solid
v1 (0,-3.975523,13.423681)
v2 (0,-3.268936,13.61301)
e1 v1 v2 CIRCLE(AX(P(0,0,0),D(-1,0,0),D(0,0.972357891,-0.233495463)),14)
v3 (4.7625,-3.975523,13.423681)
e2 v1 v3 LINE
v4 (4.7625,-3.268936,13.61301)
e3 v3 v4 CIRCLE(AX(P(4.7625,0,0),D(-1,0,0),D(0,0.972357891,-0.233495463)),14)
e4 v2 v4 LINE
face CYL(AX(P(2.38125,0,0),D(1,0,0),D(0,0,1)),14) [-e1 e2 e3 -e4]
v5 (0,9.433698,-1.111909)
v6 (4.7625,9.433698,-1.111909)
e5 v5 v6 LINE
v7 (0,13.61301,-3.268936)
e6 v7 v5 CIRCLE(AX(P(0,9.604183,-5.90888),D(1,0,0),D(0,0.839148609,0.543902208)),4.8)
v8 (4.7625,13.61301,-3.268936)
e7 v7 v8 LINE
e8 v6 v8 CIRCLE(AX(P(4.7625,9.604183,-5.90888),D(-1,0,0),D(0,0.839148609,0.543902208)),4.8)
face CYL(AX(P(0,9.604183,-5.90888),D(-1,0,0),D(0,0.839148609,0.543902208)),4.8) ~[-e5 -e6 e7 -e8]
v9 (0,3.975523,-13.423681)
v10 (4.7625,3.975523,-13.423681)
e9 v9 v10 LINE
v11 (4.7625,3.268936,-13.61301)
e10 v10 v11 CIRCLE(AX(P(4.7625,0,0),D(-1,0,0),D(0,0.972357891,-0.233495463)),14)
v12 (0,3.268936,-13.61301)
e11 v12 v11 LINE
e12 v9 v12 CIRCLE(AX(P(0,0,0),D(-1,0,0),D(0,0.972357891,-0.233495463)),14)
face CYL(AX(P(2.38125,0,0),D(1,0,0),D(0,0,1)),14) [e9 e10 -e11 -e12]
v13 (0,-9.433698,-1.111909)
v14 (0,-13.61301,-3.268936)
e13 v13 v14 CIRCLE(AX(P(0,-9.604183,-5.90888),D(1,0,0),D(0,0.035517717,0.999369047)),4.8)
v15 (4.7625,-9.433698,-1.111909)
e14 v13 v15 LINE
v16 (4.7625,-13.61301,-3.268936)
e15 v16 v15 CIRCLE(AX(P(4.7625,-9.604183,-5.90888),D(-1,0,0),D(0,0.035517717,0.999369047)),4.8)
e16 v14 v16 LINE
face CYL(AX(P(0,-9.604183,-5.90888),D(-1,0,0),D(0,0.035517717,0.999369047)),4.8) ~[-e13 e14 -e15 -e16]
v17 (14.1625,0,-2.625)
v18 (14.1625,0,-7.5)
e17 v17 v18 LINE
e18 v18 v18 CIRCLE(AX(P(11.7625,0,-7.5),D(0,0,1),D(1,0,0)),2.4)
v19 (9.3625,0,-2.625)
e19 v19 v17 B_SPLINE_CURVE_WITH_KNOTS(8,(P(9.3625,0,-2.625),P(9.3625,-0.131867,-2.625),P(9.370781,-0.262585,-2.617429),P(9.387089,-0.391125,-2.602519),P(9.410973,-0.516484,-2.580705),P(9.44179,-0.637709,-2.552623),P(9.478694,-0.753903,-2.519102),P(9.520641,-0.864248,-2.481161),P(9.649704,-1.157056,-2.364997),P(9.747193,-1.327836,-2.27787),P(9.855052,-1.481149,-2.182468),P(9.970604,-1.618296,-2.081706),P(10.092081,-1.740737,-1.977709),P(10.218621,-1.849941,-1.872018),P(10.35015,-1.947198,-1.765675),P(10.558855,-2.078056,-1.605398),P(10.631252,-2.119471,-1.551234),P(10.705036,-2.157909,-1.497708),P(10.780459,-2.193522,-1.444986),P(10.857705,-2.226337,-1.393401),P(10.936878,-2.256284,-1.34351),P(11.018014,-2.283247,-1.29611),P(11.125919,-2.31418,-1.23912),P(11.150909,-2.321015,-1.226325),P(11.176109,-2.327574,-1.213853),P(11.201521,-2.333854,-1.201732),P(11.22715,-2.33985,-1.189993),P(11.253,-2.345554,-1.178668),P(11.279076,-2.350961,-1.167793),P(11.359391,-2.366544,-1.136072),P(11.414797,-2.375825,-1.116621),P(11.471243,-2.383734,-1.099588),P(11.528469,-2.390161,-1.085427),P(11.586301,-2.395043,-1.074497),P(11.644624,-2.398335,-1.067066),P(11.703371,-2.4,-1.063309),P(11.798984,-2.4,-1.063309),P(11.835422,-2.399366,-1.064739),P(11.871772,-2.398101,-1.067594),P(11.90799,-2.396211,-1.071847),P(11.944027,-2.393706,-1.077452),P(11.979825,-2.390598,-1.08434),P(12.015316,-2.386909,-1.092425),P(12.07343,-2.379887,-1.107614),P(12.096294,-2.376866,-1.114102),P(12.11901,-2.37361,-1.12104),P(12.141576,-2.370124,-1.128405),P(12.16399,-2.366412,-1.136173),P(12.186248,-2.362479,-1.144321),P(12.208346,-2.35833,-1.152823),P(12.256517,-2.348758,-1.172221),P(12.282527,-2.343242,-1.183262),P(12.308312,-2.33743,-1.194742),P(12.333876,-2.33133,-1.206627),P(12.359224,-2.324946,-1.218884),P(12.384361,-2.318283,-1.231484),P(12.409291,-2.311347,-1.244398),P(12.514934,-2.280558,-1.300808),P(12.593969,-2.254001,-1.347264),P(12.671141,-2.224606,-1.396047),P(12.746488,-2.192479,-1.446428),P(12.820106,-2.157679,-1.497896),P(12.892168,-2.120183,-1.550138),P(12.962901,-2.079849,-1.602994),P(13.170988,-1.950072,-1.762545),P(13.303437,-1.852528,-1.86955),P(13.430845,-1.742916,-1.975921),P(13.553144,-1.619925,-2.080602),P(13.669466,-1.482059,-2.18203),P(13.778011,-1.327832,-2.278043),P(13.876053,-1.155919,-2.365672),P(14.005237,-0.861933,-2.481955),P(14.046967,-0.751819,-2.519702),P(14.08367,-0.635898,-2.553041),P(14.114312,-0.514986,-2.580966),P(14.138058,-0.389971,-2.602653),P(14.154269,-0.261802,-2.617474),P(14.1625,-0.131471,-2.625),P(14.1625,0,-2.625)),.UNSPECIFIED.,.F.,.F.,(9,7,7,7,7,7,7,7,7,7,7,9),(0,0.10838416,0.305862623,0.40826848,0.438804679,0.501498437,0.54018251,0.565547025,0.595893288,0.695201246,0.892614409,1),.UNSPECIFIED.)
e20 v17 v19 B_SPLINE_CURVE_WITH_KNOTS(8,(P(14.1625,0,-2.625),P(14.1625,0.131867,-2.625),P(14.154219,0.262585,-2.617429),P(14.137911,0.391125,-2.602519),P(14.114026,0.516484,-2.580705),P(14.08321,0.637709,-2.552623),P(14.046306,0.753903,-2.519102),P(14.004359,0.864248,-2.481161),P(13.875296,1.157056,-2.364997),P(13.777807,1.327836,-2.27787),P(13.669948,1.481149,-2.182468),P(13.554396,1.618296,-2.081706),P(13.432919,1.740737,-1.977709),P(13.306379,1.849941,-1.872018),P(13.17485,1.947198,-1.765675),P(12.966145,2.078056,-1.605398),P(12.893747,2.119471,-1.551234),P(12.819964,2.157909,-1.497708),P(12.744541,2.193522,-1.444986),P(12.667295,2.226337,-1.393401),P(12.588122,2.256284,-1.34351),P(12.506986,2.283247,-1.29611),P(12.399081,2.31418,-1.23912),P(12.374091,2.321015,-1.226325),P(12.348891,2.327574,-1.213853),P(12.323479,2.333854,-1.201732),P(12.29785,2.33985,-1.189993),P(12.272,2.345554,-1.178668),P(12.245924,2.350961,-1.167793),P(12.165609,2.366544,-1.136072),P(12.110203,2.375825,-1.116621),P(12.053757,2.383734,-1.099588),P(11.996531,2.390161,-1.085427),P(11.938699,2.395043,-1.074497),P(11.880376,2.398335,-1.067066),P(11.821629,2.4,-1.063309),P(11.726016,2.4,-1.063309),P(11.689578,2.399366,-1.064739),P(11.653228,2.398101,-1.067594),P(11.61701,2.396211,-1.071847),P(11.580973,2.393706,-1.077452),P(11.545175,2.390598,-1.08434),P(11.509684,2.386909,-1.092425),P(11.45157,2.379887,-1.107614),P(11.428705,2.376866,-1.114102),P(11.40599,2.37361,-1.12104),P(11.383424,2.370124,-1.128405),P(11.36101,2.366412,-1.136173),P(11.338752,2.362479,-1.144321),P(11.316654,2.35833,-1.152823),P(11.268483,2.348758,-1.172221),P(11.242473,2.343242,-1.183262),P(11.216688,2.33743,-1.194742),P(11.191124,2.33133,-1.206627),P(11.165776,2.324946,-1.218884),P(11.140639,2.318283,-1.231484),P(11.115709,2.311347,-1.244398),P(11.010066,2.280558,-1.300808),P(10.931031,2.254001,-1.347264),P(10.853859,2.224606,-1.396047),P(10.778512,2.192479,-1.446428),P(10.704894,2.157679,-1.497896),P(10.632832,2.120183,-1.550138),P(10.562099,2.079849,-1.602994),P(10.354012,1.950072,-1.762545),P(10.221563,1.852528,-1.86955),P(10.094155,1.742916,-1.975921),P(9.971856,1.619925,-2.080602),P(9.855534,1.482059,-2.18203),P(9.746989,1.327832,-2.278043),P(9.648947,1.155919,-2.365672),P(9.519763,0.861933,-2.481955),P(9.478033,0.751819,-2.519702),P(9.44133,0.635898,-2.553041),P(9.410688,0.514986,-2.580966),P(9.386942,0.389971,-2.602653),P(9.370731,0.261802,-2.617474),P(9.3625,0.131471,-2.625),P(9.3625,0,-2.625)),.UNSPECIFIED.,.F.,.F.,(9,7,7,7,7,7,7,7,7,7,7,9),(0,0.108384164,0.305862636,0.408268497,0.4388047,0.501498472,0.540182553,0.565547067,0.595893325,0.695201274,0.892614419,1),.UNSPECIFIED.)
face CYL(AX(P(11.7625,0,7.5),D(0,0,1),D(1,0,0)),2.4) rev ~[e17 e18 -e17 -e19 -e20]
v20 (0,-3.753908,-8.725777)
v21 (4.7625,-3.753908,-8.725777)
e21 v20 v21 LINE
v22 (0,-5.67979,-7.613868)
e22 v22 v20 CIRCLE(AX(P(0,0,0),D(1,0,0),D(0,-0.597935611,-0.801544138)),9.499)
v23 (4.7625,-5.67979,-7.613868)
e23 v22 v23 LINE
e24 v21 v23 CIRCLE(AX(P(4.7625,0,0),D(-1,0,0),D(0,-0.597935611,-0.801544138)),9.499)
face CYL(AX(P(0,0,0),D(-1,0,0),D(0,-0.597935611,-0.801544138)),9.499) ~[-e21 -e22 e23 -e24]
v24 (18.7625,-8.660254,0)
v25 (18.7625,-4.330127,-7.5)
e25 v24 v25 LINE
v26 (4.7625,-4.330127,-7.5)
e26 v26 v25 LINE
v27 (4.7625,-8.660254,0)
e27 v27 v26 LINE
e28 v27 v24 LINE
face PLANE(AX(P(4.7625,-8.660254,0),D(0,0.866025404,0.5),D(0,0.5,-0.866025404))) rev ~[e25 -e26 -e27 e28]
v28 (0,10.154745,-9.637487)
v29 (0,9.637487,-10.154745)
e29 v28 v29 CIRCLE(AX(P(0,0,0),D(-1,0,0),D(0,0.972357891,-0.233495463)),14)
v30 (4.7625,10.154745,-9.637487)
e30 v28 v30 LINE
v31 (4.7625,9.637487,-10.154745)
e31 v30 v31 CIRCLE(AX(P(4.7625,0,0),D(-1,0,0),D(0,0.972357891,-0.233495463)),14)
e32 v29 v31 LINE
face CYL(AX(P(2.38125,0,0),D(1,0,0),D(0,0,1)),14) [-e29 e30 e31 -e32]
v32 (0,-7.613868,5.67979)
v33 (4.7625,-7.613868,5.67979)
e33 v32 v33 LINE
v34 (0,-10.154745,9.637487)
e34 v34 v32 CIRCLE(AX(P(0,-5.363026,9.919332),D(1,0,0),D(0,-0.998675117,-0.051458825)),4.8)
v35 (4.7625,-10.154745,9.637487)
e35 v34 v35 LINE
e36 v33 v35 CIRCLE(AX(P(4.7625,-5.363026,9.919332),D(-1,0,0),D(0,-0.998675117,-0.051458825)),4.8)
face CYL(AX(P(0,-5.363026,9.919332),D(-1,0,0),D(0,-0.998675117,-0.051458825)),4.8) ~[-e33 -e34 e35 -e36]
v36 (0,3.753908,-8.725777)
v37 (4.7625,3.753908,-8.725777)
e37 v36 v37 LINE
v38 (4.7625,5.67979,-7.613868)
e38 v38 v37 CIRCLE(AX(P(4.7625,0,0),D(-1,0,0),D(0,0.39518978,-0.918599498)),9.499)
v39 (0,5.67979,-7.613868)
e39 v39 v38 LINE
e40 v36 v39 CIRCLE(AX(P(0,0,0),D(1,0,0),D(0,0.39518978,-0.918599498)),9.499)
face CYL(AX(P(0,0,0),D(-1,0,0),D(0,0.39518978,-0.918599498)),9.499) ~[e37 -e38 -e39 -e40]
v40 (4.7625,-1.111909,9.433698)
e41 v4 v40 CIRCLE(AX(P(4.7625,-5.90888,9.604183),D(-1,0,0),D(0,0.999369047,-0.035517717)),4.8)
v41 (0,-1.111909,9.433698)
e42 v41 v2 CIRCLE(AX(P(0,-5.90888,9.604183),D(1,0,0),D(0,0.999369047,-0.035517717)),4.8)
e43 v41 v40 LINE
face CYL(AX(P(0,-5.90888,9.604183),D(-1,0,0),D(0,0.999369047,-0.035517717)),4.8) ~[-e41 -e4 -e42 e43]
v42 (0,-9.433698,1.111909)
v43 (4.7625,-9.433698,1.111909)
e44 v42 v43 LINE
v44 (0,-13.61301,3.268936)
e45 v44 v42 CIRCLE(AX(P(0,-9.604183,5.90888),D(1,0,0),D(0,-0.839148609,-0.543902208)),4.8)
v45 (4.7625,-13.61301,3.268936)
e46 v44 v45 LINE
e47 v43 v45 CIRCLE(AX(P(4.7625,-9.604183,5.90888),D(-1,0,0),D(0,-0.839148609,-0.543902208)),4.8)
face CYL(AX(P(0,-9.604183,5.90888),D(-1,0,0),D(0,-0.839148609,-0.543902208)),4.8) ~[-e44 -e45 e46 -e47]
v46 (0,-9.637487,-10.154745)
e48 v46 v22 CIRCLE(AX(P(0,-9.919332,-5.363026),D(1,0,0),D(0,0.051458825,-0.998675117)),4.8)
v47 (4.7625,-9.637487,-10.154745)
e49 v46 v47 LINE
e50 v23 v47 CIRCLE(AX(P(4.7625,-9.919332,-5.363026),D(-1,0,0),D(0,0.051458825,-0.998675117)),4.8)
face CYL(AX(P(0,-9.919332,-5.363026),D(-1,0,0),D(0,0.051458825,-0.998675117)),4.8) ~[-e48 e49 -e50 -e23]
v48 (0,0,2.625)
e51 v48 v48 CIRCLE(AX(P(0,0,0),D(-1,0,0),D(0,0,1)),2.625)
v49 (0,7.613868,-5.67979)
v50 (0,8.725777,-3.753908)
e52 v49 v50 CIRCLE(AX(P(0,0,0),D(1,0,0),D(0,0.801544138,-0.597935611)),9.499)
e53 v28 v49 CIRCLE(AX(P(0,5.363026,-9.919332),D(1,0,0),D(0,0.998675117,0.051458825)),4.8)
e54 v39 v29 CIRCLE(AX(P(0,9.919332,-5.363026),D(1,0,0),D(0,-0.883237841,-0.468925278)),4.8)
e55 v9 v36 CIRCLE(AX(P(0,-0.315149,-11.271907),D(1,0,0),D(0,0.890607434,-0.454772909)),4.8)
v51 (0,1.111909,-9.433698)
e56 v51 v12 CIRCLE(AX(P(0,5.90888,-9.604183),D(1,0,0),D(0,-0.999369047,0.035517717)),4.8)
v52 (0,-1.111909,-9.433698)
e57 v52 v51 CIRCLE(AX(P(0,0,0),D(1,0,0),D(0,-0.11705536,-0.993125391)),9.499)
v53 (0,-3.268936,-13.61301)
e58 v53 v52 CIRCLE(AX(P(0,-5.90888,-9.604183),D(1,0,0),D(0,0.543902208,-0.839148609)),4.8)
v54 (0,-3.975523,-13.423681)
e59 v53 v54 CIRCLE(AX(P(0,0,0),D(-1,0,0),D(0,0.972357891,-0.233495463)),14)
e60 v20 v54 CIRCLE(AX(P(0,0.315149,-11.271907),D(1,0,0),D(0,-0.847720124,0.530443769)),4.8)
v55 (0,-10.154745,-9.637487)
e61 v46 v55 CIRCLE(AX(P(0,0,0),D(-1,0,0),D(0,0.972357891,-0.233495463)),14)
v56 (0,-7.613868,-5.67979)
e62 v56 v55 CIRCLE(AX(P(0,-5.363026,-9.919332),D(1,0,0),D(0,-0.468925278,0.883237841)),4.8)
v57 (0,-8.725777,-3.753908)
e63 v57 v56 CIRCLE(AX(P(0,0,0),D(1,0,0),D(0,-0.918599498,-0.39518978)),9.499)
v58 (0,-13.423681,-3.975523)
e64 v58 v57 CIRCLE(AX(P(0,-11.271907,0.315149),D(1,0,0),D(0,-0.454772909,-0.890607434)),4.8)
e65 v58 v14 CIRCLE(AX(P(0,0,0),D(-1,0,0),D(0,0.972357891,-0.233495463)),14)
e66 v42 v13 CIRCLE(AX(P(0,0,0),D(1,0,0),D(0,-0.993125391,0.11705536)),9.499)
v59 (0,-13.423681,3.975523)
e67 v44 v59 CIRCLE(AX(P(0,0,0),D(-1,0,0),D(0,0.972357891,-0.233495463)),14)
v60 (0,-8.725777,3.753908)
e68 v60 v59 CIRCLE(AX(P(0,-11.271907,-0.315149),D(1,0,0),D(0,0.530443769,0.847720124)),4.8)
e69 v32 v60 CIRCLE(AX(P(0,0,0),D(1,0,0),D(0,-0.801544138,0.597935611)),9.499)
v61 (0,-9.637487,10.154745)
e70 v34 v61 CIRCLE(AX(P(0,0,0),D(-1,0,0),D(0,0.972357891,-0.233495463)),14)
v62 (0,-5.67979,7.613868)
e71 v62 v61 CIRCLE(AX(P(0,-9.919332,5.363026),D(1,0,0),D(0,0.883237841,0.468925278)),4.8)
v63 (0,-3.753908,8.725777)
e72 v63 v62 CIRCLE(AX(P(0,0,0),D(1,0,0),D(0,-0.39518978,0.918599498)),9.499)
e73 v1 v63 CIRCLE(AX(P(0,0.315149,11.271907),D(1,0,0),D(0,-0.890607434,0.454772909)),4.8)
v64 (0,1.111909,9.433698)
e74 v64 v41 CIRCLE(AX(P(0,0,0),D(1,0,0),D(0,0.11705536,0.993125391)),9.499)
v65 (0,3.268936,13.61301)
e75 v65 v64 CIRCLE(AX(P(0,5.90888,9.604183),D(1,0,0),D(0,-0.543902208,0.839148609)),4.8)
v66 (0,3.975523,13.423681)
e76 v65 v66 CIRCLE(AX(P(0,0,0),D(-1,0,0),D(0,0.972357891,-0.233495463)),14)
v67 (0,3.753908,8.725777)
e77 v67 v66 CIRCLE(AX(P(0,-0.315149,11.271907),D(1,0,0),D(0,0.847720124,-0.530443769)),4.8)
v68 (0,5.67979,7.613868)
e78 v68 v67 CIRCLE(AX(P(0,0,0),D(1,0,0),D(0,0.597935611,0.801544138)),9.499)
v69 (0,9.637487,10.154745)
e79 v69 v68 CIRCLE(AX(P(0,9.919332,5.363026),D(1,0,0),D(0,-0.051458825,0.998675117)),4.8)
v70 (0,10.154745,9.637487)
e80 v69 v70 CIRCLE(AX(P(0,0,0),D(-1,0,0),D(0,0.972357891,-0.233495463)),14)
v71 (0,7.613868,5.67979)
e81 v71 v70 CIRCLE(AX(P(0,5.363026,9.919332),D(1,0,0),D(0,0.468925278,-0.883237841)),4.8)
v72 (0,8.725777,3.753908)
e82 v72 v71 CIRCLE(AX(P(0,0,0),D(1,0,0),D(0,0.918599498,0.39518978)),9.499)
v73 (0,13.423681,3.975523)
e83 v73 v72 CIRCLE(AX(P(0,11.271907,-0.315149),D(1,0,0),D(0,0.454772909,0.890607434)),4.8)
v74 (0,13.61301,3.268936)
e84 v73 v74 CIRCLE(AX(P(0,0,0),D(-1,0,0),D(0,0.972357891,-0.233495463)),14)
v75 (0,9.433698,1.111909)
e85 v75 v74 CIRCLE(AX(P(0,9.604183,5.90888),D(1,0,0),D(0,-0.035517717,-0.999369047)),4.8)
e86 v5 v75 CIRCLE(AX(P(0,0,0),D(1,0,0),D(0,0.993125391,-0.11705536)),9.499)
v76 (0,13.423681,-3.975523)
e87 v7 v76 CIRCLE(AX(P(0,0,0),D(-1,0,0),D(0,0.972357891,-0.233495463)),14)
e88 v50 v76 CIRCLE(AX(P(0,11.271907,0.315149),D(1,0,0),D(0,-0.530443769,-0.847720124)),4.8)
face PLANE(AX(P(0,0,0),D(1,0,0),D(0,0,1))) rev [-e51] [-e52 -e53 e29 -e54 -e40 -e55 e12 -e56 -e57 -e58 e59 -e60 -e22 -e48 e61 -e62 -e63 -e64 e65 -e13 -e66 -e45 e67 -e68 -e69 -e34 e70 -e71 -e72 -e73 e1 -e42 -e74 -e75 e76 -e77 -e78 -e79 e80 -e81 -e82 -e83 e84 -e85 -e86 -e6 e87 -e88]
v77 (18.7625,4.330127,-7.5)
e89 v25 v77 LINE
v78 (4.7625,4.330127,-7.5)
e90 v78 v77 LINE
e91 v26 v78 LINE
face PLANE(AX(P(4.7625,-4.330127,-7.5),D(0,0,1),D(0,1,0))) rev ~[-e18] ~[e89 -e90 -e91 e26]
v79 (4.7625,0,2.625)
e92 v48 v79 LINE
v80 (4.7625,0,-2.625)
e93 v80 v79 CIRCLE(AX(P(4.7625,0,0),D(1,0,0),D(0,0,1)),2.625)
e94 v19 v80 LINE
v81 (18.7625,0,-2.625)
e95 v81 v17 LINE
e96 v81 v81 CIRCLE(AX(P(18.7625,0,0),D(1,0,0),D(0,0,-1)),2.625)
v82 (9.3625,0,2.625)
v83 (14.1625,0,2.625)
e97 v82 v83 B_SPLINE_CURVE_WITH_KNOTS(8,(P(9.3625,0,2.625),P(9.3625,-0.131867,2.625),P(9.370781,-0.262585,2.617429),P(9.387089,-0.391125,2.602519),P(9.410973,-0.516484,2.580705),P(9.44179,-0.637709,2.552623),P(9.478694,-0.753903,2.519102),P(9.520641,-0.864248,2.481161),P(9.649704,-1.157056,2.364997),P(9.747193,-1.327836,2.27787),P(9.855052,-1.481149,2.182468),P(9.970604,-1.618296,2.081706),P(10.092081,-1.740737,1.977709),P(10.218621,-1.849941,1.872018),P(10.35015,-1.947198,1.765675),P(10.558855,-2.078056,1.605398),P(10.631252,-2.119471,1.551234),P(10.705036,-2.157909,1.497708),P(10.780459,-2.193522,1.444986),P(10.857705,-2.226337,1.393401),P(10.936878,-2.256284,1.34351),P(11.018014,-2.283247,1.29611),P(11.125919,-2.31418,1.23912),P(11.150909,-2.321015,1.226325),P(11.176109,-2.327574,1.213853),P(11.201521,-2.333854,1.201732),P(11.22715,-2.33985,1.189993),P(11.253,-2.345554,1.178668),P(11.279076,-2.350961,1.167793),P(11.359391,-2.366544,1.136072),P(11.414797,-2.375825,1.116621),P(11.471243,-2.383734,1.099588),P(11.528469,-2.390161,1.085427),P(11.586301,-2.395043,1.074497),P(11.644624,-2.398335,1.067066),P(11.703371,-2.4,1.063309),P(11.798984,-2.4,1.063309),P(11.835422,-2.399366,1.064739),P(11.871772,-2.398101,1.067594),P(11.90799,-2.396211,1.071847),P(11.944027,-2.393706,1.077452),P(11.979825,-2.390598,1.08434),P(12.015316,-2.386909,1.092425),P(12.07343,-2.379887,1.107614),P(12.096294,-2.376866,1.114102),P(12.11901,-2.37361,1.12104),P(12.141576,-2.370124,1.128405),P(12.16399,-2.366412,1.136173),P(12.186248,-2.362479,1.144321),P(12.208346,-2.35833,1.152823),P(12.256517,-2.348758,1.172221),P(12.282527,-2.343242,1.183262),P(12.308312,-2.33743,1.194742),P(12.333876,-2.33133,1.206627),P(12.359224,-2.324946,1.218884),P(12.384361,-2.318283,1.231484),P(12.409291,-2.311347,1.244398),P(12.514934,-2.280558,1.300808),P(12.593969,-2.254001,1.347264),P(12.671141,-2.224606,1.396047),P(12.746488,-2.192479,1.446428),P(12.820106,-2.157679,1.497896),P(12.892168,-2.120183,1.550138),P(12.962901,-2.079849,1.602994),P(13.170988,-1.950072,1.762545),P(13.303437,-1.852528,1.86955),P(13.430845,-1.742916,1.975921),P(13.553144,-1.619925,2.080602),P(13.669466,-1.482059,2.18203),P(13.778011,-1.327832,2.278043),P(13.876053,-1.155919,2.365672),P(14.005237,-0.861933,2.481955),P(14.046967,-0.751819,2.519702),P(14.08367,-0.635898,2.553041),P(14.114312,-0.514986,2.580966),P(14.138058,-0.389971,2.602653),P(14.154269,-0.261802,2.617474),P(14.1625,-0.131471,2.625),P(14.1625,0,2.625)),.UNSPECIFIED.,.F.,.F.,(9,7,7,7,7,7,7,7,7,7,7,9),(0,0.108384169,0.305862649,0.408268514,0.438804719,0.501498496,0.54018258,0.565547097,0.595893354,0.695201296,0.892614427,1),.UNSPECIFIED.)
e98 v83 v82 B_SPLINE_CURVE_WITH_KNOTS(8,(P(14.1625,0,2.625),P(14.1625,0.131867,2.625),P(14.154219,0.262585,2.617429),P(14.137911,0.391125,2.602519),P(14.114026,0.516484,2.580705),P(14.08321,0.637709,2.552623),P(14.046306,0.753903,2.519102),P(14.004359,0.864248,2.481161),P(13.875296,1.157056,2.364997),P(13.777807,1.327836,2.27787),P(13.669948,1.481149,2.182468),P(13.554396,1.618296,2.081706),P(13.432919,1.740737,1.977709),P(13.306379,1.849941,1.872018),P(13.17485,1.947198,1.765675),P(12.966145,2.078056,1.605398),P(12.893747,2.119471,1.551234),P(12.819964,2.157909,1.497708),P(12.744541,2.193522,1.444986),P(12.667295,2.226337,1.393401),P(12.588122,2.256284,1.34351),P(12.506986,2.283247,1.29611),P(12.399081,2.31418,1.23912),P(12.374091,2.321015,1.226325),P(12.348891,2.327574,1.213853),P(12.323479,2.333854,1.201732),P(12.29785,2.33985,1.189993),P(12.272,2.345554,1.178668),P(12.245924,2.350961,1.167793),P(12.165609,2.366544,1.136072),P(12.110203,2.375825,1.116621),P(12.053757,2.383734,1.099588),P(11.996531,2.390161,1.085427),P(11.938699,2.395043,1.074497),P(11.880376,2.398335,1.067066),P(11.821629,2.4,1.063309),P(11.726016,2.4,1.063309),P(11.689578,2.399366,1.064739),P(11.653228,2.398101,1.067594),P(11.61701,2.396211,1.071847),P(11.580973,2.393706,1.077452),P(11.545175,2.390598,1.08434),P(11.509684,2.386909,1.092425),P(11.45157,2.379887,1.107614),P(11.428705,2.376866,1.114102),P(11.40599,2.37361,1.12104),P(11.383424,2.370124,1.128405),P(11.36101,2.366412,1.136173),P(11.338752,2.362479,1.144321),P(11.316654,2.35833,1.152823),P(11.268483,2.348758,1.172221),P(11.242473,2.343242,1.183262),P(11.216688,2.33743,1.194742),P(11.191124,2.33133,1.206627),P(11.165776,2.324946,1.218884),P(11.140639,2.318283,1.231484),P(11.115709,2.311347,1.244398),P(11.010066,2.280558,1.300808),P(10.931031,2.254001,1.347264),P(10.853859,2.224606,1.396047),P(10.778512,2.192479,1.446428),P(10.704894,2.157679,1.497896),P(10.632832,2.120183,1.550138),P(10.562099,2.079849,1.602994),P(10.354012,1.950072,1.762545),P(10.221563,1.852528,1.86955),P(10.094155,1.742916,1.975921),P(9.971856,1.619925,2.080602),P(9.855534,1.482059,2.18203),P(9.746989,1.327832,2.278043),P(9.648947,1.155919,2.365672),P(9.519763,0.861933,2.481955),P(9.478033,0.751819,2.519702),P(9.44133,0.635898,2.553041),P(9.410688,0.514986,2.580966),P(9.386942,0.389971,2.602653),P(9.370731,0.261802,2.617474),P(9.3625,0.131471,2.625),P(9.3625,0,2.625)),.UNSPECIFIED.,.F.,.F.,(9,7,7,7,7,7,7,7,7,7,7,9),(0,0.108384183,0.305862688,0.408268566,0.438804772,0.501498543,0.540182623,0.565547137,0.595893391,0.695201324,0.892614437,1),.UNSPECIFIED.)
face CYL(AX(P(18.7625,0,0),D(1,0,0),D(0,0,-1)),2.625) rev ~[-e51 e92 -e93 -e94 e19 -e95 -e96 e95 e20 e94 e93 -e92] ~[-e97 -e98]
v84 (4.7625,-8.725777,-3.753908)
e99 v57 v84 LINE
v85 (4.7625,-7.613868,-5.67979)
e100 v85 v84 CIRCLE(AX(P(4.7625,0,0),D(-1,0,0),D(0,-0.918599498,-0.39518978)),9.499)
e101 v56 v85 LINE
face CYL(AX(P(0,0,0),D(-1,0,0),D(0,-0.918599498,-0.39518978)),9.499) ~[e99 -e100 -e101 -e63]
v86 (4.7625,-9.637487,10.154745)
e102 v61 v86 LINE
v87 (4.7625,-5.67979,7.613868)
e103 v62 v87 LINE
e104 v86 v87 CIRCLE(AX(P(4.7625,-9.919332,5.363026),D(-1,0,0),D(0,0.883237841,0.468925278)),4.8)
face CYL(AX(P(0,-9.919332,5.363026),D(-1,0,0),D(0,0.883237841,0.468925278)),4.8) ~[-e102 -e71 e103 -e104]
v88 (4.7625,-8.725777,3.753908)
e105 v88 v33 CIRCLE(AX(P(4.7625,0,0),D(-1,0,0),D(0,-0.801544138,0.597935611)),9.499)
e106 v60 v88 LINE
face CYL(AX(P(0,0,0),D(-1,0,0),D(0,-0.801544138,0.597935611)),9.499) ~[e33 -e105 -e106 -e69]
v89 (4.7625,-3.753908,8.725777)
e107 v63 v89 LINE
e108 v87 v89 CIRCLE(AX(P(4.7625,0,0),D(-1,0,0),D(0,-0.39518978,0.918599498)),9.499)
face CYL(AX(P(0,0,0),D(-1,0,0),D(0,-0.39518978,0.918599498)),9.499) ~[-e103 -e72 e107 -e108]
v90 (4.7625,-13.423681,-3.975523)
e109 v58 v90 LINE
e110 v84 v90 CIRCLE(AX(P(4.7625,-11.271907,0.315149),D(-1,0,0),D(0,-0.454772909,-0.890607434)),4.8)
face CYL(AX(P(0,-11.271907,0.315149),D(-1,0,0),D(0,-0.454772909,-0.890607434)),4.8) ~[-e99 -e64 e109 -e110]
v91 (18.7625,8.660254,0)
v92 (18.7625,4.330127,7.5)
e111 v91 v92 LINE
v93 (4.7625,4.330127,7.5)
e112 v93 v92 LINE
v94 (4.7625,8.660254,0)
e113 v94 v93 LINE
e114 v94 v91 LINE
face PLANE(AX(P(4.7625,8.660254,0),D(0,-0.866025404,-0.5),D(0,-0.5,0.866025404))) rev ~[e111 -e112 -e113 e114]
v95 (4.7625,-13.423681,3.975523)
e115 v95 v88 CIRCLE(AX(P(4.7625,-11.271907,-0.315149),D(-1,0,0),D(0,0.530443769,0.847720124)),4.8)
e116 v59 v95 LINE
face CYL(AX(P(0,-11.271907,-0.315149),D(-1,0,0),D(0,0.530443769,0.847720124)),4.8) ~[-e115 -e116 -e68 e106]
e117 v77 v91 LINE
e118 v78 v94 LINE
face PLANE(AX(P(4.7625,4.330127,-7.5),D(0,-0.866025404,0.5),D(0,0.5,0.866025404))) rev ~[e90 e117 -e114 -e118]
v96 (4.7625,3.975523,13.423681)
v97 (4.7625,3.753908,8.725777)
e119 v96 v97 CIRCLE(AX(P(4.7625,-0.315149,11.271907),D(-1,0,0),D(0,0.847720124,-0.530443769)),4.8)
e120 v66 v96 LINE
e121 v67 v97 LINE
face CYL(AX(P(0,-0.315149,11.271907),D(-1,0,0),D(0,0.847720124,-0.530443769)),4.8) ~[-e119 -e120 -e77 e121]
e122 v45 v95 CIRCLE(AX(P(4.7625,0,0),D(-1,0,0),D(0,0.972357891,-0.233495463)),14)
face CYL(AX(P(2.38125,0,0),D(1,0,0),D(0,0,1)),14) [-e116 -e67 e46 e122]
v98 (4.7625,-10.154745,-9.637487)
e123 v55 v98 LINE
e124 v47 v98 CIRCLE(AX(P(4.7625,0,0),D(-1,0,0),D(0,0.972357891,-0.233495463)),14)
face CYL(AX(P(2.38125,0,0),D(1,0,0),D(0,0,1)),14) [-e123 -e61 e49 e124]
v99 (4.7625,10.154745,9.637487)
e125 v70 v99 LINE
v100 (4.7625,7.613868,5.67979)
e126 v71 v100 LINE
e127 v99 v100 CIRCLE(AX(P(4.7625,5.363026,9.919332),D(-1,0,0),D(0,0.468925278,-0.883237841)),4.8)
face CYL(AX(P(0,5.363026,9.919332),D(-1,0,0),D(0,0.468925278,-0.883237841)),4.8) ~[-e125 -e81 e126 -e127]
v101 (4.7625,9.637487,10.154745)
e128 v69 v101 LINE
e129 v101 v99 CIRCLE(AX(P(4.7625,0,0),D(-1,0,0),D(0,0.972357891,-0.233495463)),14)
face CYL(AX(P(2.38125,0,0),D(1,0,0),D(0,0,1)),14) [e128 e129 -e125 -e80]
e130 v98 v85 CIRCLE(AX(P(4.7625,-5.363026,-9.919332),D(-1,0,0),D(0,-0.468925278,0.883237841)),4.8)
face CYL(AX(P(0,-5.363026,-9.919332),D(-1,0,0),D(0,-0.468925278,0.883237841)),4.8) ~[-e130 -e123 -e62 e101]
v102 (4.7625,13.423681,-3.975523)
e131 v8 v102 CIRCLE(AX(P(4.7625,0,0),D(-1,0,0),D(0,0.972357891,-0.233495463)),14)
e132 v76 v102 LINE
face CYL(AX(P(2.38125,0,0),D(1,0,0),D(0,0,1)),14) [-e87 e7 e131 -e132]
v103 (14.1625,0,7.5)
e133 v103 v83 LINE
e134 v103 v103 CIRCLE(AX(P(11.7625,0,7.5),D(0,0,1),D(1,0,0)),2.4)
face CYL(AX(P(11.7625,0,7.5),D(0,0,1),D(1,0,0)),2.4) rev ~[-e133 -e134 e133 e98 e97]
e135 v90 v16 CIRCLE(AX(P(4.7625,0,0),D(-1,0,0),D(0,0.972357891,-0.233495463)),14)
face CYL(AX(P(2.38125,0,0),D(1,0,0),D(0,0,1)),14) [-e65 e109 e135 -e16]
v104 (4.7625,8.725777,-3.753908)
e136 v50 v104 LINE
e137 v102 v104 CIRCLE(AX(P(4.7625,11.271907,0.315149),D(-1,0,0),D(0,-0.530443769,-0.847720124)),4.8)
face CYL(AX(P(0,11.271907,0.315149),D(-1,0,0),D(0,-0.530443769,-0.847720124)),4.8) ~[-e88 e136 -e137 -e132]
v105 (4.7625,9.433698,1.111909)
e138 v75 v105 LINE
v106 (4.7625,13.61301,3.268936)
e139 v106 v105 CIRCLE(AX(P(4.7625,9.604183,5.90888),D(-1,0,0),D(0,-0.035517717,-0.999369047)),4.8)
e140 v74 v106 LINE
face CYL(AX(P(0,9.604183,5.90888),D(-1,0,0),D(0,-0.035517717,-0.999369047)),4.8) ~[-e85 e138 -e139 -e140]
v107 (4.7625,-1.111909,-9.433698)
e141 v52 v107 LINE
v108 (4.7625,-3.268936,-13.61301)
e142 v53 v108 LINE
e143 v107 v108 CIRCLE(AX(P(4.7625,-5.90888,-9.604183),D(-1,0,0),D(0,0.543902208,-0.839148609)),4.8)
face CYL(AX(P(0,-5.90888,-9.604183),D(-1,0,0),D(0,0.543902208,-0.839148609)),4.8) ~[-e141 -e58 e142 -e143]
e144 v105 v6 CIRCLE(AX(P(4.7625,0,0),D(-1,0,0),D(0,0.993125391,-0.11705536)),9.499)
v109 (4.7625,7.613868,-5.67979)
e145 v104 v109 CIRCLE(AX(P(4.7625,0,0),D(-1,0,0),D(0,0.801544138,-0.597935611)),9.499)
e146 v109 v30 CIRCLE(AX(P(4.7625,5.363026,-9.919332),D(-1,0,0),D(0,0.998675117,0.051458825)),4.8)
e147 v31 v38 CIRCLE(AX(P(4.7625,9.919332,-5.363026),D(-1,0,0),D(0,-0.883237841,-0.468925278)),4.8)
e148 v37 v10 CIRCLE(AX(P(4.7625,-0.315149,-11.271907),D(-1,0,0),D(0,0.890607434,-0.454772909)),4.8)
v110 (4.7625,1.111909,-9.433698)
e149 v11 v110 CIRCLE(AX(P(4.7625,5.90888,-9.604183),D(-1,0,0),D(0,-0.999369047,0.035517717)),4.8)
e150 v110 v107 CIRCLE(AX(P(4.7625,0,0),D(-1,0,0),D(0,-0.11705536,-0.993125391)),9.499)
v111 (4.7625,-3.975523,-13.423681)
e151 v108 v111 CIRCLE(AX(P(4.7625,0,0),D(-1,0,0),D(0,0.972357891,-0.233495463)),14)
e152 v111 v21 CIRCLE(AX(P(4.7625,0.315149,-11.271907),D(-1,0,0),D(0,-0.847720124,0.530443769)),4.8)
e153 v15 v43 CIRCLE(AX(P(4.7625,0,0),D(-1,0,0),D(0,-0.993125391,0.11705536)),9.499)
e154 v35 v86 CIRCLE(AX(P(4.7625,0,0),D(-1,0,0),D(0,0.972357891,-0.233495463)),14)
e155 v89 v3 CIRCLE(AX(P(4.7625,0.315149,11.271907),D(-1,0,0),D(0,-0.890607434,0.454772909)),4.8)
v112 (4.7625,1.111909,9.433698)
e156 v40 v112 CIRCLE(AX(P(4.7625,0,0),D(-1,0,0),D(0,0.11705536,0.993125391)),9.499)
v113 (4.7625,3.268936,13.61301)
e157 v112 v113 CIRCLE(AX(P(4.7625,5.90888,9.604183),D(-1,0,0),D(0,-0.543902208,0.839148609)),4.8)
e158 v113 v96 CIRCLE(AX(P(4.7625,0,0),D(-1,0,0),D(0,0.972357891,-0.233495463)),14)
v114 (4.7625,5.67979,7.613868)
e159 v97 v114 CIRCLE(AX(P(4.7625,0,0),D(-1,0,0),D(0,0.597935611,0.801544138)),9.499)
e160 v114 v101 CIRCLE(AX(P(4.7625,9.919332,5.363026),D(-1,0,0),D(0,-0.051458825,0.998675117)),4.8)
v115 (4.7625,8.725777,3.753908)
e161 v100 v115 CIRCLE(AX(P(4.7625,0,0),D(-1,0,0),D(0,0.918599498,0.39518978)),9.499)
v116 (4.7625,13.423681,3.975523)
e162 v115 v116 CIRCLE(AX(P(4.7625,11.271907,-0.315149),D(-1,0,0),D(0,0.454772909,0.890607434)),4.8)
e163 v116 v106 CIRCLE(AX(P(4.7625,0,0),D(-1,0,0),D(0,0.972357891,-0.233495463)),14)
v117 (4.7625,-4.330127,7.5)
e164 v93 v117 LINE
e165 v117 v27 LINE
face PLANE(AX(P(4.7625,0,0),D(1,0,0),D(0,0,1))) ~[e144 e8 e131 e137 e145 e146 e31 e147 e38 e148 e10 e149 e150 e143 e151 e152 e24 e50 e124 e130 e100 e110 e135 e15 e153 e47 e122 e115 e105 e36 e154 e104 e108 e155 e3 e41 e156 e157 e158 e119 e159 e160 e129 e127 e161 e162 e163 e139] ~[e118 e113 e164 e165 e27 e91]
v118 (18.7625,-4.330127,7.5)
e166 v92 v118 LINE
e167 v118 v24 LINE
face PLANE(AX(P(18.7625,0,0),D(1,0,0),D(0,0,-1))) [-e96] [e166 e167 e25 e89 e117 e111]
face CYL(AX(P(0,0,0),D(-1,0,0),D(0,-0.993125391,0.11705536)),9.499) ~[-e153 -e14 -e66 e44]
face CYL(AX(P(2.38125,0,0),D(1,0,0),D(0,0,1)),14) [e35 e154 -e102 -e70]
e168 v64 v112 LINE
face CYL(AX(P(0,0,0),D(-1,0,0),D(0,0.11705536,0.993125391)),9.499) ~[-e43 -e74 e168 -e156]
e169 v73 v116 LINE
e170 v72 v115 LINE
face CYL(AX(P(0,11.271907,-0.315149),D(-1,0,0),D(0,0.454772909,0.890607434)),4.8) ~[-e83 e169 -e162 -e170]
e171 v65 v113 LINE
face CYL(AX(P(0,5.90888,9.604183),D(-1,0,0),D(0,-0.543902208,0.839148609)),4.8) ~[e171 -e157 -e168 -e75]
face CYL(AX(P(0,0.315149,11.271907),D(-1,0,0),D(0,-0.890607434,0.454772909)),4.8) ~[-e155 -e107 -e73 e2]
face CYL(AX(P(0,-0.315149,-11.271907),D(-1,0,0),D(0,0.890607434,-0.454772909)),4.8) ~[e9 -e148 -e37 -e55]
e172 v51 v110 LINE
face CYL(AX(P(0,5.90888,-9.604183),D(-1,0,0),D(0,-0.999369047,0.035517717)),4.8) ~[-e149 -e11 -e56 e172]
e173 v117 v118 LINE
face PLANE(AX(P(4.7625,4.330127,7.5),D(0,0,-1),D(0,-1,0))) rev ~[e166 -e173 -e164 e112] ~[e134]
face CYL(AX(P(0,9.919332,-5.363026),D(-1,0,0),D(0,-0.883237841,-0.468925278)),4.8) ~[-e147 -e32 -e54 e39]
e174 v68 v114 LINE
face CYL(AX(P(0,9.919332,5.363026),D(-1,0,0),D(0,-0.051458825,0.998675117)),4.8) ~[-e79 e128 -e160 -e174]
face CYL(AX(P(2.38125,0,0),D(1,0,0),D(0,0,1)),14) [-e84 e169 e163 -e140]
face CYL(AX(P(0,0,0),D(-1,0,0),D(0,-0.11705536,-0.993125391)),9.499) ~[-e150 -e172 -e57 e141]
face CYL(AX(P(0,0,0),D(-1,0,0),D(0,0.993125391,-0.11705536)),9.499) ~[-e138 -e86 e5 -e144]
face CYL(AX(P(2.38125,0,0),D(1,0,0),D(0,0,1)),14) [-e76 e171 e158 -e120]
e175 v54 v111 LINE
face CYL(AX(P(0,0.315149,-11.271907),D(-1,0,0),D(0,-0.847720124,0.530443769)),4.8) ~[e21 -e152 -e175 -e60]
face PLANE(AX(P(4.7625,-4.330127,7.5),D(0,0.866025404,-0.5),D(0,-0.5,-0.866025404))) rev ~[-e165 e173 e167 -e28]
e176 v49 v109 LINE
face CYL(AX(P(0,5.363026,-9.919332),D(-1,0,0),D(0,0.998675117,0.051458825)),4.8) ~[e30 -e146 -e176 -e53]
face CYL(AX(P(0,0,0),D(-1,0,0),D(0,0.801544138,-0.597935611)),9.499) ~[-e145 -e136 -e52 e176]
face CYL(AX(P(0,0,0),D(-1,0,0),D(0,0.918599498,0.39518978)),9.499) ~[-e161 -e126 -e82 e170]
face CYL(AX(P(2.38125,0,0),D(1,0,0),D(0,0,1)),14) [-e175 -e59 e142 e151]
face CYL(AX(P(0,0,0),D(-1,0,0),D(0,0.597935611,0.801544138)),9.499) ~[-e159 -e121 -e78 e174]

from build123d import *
from build123d.topology import SkipClean

# Parameters (mm, degrees)
BASPROSKE_W         = 4.7625
BASPROSKE_H         = 14
TOOTHCUT_DEPTH      = 21.36372771
TEETHCUTS_COUNT     = 12
TEETHCUTS_ANGLE     = 330
BORSKE_R            = 2.625
BORE_DEPTH          = 50.0000508
BOSS_EXTRUDE1_DEPTH = 13.99999994
SKETCH2_R           = 2.625
CUT_EXTRUDE1_DEPTH  = 27.882327142
SKETCH3_R           = 2.4
CUT_EXTRUDE2_DEPTH  = 32.354499992


with BuildPart() as part:
    # BasProSke → Base-Revolve (revolve)
    with BuildSketch(Plane(origin=(0, 0, 0), x_dir=(1, 0, 0), z_dir=(0, 1, 0)), mode=Mode.PRIVATE) as base_revolve_sk:
        with Locations((2.38125, 7)):
            Rectangle(BASPROSKE_W, BASPROSKE_H)
    revolve(base_revolve_sk.sketch.rotate(Axis((-10, 0, 0), (1, 0, 0)), 180), axis=Axis((-10, 0, 0), (1, 0, 0)))

    # TooCutSke → ToothCut (cut, through all)
    with BuildSketch(Plane(origin=(0, 0, 0), x_dir=(0, 0, -1), z_dir=(1, 0, 0))):
        with BuildLine():
            ThreePointArc((1.111908866, 9.433698091), (0, 9.499), (-1.111908866, 9.433698091))
            ThreePointArc((-1.111908866, 9.433698091), (-1.651516138, 11.821129337), (-3.298149691, 13.632096456))
            ThreePointArc((-3.298149691, 13.632096456), (0, 14.0254), (3.298149691, 13.632096456))
            ThreePointArc((3.298149691, 13.632096456), (1.651516138, 11.821129337), (1.111908866, 9.433698091))
        make_face()
    toothcut = extrude(amount=TOOTHCUT_DEPTH, mode=Mode.SUBTRACT)

    # TeethCuts: ToothCut ×12 about axis
    teethcuts_axis = Axis((-10, 0, 0), (1, 0, 0))
    for i in range(1, TEETHCUTS_COUNT):
        add(toothcut.rotate(teethcuts_axis, i * TEETHCUTS_ANGLE / (TEETHCUTS_COUNT - 1)), mode=Mode.SUBTRACT)

    # BorSke → Bore (cut, symmetric)
    with BuildSketch(Plane(origin=(0, 0, 0), x_dir=(0, 0, -1), z_dir=(1, 0, 0))):
        with Locations(Location((0, 0, 0), (0, 0, 180))):
            Circle(BORSKE_R)
    extrude(amount=BORE_DEPTH, both=True, mode=Mode.SUBTRACT)

    # Sketch1 → Boss-Extrude1 (add)
    with BuildSketch(Plane(origin=(4.7625, 0, 0), x_dir=(0, 0, -1), z_dir=(1, 0, 0))):
        Polygon((0, 8.660254038), (-7.5, 4.330127019), (-7.5, -4.330127019), (0, -8.660254038), (7.5, -4.330127019), (7.5, 4.330127019), align=None)
    extrude(amount=BOSS_EXTRUDE1_DEPTH)

    # Sketch2 → Cut-Extrude1 (cut, through all)
    with BuildSketch(Plane(origin=(18.76249994, 0, 0), x_dir=(0, 0, -1), z_dir=(1, 0, 0))):
        Circle(SKETCH2_R)
    extrude(amount=-CUT_EXTRUDE1_DEPTH, mode=Mode.SUBTRACT)

    # Sketch3 → Cut-Extrude2 (cut, through all)
    with SkipClean():  # the faces are left unmerged after this step: merging them gives an invalid solid
        with BuildSketch(Plane.XY.offset(7.5)):
            with Locations((11.76249997, 0)):
                Circle(SKETCH3_R)
        extrude(amount=-CUT_EXTRUDE2_DEPTH, mode=Mode.SUBTRACT)


solid = part.part
